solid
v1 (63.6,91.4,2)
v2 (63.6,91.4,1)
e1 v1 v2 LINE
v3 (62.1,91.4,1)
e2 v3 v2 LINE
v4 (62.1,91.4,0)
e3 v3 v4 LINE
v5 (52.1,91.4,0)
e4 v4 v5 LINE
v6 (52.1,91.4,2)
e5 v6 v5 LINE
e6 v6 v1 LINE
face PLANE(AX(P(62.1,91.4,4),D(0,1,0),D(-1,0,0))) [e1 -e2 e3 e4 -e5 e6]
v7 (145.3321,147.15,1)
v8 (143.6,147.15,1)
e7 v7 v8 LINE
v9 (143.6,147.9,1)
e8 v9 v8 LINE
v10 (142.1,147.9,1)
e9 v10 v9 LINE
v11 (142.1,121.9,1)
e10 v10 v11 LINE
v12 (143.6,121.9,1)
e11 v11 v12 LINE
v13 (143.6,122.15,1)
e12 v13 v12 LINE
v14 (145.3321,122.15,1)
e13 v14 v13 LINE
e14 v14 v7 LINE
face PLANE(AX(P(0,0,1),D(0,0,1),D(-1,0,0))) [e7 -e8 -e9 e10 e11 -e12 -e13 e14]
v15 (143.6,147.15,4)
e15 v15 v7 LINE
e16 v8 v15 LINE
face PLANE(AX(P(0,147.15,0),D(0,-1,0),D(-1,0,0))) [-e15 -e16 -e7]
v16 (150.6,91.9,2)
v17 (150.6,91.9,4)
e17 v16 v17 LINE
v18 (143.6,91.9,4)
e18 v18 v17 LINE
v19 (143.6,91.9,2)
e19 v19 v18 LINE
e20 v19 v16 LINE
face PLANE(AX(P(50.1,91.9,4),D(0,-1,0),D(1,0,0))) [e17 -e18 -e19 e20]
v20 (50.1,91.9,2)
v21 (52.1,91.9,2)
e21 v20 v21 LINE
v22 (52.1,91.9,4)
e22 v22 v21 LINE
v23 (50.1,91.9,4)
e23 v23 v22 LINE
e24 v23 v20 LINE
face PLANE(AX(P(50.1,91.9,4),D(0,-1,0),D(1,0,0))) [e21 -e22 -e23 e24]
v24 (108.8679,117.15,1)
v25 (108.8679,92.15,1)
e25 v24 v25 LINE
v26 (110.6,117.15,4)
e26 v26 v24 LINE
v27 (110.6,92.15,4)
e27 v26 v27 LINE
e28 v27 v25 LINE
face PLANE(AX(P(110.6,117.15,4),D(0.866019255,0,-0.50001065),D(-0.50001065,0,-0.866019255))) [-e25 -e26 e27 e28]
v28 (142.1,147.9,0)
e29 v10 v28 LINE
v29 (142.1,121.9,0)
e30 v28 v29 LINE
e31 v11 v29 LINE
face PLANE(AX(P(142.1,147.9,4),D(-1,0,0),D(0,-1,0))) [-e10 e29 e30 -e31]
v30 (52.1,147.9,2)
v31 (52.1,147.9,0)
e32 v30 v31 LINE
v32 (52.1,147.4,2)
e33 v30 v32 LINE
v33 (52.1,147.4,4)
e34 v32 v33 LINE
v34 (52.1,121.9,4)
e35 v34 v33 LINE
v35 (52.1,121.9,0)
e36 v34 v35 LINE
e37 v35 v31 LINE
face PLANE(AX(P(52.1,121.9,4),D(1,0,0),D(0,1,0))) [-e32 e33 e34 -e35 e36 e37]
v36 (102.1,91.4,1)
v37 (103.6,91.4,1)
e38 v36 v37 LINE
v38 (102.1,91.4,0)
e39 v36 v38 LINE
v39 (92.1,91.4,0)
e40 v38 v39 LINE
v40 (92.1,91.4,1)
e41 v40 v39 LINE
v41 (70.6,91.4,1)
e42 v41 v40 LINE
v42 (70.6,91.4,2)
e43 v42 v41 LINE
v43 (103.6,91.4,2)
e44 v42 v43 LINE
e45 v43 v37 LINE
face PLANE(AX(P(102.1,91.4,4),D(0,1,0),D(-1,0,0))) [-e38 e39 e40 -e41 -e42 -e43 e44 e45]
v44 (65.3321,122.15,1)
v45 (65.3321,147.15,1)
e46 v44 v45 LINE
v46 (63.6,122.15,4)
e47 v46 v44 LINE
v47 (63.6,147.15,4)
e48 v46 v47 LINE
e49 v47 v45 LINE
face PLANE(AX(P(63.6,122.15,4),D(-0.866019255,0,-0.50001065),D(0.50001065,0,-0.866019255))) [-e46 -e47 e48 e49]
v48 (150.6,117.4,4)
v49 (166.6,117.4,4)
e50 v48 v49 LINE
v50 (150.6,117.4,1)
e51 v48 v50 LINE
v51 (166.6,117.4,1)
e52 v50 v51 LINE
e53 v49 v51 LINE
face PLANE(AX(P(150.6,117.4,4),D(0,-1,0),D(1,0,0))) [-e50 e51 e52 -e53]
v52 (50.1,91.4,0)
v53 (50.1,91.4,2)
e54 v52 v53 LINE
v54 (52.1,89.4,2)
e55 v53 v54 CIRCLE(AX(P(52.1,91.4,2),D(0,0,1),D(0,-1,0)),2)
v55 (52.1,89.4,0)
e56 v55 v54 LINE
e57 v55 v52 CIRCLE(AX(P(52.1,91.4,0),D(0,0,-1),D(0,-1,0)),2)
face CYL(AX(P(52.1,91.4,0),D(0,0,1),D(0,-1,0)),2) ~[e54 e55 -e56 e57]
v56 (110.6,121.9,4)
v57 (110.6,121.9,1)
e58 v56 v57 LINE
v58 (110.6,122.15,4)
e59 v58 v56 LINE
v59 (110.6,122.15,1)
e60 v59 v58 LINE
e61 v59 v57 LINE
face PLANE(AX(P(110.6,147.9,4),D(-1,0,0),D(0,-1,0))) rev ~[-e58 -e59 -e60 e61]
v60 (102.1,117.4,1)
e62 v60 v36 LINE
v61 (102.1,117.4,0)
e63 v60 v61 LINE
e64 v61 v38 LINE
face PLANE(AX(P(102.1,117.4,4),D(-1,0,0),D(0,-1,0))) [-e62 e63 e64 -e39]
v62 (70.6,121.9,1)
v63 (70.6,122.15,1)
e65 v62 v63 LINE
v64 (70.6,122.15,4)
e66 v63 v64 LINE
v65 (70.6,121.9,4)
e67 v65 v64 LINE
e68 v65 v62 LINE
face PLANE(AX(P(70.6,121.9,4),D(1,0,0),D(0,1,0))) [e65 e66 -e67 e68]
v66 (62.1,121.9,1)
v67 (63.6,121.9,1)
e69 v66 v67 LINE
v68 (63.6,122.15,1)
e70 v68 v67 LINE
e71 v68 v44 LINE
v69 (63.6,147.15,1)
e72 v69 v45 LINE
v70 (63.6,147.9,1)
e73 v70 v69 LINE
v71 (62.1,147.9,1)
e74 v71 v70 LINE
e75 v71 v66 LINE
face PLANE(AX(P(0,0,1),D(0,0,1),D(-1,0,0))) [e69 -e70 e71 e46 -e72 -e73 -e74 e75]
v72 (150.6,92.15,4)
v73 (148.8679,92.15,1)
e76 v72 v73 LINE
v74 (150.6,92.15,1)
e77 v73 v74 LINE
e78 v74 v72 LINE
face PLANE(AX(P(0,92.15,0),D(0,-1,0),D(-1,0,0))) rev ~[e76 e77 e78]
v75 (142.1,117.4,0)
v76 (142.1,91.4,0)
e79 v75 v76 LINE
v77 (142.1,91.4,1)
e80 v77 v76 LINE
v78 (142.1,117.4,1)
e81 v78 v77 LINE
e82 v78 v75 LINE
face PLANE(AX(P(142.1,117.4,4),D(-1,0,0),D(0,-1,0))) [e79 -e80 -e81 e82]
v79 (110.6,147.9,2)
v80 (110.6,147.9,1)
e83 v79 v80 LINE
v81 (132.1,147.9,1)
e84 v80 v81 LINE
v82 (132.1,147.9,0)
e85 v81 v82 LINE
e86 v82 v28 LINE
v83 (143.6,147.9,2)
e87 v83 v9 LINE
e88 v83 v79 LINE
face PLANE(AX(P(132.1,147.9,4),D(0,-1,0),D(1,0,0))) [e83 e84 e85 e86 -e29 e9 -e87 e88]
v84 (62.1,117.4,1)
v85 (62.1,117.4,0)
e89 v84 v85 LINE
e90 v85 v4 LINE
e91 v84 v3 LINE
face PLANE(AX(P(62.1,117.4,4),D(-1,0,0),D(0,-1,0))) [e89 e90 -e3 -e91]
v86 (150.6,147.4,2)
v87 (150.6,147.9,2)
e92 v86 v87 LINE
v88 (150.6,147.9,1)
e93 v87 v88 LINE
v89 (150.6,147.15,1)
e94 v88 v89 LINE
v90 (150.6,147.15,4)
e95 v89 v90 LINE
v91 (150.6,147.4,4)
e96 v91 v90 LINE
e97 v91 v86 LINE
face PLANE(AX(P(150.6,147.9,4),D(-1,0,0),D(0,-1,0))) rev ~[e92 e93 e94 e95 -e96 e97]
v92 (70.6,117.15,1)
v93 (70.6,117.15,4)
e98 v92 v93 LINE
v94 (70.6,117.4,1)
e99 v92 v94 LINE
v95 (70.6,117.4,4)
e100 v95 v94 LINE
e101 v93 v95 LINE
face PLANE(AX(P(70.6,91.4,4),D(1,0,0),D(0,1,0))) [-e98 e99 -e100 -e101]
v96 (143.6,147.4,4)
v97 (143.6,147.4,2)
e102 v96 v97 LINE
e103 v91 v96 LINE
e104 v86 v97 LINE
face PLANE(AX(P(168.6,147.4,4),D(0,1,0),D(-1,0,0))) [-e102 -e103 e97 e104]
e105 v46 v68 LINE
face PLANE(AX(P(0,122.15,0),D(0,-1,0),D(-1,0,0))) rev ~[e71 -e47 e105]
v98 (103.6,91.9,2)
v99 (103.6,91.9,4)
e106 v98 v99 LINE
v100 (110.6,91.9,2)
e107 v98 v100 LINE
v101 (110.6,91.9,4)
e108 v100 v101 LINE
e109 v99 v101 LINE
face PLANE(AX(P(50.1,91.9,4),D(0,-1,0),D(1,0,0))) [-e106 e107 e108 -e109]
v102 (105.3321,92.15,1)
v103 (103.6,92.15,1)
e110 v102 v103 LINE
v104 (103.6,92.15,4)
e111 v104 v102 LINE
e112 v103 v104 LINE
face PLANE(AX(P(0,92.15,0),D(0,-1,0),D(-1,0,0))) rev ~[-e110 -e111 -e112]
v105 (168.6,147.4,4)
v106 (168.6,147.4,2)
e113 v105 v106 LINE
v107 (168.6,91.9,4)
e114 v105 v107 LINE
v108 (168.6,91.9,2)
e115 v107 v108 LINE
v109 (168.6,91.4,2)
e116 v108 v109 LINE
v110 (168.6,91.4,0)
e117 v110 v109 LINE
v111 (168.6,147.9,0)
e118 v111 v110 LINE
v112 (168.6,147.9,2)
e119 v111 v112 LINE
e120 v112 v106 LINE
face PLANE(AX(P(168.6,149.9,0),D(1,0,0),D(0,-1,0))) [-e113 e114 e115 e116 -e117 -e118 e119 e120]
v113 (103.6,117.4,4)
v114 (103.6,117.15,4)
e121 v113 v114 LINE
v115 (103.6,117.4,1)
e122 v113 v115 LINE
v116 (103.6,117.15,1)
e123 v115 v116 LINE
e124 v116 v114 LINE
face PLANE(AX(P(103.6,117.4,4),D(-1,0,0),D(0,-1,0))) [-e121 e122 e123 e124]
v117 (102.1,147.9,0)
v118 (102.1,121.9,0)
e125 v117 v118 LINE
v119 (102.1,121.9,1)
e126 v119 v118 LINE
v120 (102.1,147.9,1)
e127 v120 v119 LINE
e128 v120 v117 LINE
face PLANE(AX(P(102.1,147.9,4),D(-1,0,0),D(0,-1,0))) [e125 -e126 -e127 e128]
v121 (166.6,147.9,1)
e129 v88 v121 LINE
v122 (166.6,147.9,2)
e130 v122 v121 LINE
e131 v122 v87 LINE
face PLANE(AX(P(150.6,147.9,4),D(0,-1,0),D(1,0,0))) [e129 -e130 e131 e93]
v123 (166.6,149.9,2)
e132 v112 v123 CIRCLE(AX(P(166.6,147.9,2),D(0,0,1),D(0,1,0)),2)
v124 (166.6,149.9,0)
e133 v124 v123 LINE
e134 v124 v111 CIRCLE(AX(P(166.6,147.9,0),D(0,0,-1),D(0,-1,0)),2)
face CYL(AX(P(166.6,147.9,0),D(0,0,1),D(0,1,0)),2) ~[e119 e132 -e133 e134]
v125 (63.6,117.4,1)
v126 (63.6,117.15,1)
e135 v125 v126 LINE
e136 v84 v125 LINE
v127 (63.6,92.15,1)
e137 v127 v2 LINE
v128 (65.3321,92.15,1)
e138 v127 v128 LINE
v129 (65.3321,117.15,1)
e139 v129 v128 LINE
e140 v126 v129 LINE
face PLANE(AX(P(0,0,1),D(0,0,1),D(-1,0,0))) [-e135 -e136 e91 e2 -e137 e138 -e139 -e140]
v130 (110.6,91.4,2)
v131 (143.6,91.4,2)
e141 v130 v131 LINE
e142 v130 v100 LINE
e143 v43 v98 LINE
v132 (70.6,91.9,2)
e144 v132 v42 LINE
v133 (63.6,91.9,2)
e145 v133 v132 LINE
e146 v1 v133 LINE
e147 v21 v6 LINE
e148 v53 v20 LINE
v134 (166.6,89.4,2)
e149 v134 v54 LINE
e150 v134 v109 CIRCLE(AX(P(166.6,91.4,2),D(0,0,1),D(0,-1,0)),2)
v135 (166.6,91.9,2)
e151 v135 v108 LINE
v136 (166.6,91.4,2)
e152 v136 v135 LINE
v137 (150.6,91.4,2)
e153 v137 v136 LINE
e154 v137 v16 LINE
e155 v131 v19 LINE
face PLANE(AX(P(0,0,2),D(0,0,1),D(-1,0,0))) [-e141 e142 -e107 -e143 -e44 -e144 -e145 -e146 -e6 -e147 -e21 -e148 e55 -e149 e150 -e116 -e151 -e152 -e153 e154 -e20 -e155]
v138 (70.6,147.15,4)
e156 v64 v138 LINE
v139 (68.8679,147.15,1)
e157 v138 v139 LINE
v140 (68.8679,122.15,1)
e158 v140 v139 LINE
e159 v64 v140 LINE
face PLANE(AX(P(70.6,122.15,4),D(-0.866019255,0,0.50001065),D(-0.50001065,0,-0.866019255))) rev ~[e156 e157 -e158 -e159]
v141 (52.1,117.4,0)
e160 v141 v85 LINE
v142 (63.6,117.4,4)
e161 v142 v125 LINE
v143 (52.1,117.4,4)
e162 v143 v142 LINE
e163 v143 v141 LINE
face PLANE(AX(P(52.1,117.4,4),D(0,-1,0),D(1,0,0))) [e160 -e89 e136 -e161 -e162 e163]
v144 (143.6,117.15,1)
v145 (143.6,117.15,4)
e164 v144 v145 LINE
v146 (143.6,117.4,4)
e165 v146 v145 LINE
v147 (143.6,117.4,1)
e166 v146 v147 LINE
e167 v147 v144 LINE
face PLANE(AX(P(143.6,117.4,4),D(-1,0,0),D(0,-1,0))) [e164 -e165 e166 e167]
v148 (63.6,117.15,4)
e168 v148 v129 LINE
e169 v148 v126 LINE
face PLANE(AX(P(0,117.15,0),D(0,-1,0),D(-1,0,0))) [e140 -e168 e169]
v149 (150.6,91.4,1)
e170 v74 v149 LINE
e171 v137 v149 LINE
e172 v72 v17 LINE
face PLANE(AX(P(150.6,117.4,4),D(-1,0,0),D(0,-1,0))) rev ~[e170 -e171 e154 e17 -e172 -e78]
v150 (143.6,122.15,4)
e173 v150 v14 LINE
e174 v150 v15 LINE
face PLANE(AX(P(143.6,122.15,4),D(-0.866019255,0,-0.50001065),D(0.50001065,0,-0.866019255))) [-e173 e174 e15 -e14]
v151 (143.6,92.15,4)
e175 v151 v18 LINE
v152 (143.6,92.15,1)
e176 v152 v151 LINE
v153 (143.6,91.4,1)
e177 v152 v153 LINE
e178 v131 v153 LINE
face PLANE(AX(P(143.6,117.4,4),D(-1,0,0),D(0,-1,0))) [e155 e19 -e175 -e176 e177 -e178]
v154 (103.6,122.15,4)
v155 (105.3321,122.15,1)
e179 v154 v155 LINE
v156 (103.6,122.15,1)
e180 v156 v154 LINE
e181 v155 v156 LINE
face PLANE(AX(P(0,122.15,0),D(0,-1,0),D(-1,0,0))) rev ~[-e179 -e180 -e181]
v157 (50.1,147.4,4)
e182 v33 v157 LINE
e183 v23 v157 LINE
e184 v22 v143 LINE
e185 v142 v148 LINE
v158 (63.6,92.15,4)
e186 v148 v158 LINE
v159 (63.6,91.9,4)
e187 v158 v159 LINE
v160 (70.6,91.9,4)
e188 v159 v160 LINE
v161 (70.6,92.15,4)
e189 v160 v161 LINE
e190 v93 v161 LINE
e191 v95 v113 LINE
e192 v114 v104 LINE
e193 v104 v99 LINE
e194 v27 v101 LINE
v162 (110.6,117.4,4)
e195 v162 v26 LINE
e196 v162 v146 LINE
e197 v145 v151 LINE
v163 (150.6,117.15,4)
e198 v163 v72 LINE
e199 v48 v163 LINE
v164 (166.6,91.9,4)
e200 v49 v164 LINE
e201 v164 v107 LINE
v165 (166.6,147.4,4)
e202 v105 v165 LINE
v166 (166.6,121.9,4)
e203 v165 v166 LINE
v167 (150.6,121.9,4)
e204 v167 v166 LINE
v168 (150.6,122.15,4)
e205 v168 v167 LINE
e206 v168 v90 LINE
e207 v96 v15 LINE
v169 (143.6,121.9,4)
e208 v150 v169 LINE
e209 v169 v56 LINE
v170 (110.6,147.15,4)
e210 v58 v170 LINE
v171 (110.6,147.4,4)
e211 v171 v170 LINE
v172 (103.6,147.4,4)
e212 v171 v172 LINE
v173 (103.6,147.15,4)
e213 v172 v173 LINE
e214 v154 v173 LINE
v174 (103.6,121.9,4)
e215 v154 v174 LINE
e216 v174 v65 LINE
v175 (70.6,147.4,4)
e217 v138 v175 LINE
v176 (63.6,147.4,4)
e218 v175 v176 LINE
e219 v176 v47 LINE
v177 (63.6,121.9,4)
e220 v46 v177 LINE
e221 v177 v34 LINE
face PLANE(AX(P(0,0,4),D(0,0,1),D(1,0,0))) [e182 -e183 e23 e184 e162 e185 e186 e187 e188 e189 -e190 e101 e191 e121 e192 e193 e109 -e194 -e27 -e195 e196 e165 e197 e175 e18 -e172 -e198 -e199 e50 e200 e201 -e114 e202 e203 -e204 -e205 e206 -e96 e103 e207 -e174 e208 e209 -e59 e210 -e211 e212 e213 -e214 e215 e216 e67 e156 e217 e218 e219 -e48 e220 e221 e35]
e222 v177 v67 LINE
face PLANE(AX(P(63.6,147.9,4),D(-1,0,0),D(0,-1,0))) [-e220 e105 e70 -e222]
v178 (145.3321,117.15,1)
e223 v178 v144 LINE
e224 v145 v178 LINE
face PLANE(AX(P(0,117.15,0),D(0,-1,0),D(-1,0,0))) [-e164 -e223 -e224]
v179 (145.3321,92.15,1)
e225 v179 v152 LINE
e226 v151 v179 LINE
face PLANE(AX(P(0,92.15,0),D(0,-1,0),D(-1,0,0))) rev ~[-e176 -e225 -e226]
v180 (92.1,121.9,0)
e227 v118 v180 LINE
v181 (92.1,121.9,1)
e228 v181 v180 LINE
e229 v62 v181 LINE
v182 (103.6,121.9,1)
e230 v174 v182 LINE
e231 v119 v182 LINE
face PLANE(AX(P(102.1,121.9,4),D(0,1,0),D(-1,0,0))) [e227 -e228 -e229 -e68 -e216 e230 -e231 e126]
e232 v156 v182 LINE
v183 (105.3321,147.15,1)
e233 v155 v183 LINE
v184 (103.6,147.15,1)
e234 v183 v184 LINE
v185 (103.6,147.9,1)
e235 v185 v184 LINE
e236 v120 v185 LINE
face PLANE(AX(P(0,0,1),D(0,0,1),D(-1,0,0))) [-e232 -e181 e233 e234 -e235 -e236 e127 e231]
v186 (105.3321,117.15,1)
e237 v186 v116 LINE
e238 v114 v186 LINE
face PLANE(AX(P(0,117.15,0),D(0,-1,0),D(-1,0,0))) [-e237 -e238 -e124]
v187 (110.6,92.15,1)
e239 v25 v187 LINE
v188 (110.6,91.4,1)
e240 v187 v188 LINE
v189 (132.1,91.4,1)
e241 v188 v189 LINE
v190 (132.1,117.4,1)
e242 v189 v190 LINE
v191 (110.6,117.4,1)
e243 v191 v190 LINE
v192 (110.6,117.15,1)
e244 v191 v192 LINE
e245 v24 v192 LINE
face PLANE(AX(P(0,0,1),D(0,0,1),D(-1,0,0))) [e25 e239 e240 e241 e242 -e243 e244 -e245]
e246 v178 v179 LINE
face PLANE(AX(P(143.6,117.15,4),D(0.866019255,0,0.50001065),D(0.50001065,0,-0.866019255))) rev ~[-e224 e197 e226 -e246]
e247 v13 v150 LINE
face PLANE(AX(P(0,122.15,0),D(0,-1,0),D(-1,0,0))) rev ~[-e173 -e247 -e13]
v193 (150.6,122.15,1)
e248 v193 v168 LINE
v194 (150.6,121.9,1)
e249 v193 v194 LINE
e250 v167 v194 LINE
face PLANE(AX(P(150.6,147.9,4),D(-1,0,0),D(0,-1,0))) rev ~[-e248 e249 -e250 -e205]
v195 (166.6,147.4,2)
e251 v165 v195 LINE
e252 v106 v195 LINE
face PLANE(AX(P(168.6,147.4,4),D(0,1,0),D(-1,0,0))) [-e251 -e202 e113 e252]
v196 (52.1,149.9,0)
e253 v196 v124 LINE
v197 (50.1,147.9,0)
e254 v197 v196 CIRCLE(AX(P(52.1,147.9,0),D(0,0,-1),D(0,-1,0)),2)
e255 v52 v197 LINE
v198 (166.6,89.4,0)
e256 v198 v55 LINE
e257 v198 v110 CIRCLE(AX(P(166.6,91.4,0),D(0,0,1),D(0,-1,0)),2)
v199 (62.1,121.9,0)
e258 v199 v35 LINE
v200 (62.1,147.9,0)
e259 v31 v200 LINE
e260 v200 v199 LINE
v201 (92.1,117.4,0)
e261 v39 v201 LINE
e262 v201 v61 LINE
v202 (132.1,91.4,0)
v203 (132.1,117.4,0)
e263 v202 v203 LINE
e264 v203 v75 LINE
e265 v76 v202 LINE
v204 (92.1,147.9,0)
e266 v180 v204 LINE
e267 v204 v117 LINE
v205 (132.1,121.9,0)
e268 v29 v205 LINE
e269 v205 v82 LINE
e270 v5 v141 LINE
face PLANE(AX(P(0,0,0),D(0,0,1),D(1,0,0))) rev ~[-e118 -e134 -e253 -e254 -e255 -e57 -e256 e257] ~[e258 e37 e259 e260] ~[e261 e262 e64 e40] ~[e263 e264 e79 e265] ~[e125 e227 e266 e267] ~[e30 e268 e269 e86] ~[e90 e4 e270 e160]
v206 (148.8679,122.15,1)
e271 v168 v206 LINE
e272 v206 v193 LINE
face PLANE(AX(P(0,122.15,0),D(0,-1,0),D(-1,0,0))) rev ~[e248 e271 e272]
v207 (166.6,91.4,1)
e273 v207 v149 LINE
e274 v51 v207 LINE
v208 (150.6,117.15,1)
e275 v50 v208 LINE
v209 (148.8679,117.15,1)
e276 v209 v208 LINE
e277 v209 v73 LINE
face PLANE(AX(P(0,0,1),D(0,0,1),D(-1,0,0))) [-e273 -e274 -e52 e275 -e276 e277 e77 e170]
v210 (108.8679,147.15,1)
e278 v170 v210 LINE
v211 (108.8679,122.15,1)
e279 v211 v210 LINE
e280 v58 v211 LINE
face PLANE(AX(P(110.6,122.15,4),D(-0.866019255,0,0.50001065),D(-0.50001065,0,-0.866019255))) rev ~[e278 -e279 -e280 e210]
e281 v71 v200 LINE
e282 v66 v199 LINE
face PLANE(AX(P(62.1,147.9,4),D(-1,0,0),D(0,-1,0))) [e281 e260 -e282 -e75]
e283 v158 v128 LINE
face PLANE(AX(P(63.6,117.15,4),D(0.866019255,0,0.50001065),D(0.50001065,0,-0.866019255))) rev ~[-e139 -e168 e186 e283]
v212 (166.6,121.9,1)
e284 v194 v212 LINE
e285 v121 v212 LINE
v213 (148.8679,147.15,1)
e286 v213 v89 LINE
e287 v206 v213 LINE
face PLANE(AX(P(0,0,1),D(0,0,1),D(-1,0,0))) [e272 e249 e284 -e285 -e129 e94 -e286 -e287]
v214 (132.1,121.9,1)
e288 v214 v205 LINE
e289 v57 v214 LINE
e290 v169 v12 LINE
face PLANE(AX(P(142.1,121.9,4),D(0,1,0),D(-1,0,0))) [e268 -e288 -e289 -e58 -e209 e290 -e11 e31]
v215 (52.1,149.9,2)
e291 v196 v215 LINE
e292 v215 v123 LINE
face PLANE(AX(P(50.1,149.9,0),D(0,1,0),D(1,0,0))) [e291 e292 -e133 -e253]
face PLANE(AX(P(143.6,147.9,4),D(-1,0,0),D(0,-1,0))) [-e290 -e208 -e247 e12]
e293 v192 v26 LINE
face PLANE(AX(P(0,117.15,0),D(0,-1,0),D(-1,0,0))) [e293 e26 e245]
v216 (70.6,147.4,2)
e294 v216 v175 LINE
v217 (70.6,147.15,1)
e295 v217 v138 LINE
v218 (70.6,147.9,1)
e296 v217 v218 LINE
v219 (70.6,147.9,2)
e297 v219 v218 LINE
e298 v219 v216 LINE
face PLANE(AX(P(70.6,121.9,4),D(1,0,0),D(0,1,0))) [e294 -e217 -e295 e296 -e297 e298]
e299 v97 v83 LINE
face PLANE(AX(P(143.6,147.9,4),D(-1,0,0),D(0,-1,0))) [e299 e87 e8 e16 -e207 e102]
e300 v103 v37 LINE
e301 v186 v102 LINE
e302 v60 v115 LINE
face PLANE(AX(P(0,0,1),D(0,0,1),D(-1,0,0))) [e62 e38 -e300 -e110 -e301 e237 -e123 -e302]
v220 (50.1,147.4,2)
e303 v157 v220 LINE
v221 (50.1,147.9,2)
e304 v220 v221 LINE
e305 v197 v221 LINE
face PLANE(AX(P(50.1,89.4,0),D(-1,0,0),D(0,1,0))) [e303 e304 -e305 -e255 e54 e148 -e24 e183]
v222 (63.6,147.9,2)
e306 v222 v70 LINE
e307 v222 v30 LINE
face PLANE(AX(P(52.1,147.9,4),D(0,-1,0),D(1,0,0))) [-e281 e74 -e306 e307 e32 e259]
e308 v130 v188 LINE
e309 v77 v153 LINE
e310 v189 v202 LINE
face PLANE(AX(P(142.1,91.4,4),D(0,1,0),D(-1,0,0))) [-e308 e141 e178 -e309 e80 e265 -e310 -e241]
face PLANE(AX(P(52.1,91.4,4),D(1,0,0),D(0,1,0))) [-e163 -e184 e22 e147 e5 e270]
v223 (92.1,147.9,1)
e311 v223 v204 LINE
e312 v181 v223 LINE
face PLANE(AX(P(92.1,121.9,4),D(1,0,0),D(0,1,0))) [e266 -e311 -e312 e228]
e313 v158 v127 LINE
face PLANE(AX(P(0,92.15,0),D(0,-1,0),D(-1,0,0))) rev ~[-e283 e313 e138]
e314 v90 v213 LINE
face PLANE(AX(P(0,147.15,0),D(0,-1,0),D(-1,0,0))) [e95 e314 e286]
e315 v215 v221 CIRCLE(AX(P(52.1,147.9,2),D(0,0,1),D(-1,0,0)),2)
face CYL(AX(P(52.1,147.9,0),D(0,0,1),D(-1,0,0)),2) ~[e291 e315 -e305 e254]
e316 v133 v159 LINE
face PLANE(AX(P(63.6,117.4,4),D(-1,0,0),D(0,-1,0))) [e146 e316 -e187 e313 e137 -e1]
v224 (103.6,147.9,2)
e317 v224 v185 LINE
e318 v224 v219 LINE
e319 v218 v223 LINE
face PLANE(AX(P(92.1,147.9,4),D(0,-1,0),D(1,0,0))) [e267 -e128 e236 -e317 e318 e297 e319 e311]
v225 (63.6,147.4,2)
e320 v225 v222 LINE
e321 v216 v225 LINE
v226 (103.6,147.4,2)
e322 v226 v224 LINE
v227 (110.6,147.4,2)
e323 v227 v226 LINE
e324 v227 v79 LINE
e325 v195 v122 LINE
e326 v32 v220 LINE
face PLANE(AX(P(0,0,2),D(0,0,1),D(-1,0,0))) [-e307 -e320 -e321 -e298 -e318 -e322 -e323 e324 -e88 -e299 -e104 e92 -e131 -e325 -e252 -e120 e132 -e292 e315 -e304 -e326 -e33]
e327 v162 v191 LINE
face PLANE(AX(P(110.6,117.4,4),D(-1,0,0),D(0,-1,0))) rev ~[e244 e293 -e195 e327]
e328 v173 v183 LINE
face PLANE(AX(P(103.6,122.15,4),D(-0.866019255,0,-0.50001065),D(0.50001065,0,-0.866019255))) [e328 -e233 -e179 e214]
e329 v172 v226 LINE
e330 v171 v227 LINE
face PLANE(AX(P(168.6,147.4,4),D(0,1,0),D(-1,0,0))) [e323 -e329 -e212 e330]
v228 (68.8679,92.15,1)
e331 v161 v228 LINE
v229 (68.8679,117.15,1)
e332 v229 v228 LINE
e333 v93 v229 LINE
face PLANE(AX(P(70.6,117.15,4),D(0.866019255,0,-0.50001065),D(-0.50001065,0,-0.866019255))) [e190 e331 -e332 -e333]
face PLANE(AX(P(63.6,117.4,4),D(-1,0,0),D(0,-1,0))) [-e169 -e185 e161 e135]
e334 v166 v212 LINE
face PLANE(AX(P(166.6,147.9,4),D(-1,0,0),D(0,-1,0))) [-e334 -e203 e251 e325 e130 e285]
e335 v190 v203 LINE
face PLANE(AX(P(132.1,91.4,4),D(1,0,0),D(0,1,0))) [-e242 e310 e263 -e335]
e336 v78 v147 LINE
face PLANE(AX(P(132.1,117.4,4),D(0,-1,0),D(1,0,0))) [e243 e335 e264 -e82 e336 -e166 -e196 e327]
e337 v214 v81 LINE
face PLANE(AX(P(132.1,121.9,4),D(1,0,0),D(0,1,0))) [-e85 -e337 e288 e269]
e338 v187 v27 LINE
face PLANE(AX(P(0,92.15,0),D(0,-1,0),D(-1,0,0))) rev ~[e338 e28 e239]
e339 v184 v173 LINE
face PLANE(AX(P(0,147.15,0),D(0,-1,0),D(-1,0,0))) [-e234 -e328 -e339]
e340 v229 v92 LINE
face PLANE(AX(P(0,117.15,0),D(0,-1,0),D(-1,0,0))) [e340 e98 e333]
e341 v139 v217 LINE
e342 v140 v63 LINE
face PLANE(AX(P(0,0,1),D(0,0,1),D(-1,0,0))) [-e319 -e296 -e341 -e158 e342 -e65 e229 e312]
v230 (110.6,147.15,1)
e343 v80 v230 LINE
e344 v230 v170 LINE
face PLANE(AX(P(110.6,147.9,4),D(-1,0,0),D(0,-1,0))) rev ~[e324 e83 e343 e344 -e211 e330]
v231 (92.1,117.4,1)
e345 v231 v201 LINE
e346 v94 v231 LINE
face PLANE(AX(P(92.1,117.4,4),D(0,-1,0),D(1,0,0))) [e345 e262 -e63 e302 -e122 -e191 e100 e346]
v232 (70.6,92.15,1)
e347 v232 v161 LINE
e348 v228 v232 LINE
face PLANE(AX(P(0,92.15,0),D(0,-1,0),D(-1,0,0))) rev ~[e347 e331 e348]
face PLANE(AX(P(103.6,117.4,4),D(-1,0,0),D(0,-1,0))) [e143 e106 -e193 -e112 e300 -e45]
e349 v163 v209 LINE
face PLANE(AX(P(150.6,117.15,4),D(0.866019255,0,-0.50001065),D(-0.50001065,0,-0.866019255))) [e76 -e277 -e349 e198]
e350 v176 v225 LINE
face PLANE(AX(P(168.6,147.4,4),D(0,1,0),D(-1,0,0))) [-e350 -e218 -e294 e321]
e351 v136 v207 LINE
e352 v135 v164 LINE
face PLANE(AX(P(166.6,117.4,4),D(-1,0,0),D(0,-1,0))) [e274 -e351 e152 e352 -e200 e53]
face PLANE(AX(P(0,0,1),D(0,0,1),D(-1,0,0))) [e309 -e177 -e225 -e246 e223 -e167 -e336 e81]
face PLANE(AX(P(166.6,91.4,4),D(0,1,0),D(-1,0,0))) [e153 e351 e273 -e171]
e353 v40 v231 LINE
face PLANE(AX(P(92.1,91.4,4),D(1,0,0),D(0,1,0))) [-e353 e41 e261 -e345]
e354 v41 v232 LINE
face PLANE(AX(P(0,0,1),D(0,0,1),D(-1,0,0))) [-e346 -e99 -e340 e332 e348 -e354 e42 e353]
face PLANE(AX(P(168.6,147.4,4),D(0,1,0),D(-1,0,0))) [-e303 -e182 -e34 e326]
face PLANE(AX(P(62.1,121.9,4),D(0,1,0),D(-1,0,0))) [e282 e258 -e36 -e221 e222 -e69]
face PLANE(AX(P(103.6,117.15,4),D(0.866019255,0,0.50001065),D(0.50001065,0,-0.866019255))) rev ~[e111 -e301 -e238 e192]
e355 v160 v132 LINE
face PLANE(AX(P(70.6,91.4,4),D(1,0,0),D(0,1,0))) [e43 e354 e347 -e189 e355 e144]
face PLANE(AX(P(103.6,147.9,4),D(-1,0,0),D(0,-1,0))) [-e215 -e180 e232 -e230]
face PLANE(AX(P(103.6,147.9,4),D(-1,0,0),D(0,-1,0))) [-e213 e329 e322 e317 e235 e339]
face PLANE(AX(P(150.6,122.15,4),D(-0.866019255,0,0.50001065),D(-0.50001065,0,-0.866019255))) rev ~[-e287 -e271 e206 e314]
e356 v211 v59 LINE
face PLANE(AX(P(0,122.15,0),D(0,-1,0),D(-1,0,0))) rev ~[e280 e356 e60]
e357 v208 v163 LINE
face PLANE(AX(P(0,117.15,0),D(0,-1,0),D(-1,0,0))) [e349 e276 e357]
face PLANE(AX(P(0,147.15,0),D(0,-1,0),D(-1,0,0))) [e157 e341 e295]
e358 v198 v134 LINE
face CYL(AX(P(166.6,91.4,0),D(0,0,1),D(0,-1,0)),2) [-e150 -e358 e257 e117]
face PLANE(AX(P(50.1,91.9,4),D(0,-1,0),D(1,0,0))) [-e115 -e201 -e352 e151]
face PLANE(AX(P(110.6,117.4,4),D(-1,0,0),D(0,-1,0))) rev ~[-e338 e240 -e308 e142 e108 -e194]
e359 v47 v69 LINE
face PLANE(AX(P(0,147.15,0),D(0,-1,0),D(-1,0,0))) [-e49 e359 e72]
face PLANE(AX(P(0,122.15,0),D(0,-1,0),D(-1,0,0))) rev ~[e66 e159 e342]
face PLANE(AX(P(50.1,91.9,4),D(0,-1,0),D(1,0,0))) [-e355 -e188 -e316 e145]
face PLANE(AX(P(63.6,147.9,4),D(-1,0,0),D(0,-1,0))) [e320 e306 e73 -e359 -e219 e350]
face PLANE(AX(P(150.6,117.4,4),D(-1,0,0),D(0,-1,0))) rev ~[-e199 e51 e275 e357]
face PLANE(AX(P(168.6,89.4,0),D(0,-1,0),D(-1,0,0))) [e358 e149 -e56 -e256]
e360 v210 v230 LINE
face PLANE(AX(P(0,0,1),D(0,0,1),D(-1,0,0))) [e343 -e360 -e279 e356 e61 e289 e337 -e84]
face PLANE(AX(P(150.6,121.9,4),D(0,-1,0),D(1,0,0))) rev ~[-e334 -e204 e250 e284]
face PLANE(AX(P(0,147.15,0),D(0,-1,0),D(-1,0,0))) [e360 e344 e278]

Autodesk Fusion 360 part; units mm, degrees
sketch "Schizzo1" plane through (0, 0, 0) normal (0, 0, 1) x (1, 0, 0)
  line L0 (50, 150) -> (168.7, 150) construction
  line L1 (168.7, 150) -> (168.7, 89.3) construction
  line L2 (168.7, 89.3) -> (50, 89.3) construction
  line L3 (50, 89.3) -> (50, 150) construction
  line L4 (50, 119.65) -> (168.7, 119.65) construction
  line L5 (109.35, 150) -> (109.35, 89.3) construction
  line L6 (168.6, 89.4) -> (50.1, 89.4)
  line L7 (50.1, 89.4) -> (50.1, 149.9)
  line L8 (50.1, 149.9) -> (168.6, 149.9)
  line L9 (168.6, 149.9) -> (168.6, 89.4)
  line L10 (168.6, 89.4) -> (50.1, 149.9) construction
  line L11 (50.1, 89.4) -> (168.6, 149.9) construction
  point P0 (109.35, 119.65)
  dimension "d1" = 118.7
  dimension "d2" = 60.7
  dimension "d3" = 0.1
  dimension "d4" = 0.1
extrude "Estrusione1" add sketch "Schizzo1" along normal blind 4
fillet "Raccordo1" radius 2 4 edges at (50.1, 89.4, 2) (168.6, 89.4, 2) (50.1, 149.9, 2) (168.6, 149.9, 2)
sketch "Schizzo2" plane through (0, 0, 4) normal (0, 0, 1) x (-1, 0, 0)
  arc A0 (-168.6, -147.9) -> (-166.6, -149.9) centre (-166.6, -147.9) ccw
  line L0 (-166.6, -149.9) -> (-52.1, -149.9)
  arc A1 (-52.1, -149.9) -> (-50.1, -147.9) centre (-52.1, -147.9) ccw
  line L1 (-50.1, -147.9) -> (-50.1, -91.4)
  arc A2 (-50.1, -91.4) -> (-52.1, -89.4) centre (-52.1, -91.4) ccw
  line L2 (-52.1, -89.4) -> (-166.6, -89.4)
  arc A3 (-166.6, -89.4) -> (-168.6, -91.4) centre (-166.6, -91.4) ccw
  line L3 (-168.6, -91.4) -> (-168.6, -147.9)
  line L4 (-50.1, -149.9) -> (-168.6, -149.9) construction
  line L5 (-168.6, -149.9) -> (-168.6, -89.4) construction
  line L6 (-168.6, -89.4) -> (-50.1, -89.4) construction
  line L7 (-50.1, -89.4) -> (-50.1, -149.9) construction
  line L8 (-50.1, -119.65) -> (-168.6, -119.65) construction
  line L9 (-109.35, -149.9) -> (-109.35, -89.4) construction
  line L10 (-166.6, -91.4) -> (-52.1, -91.4)
  line L11 (-52.1, -91.4) -> (-52.1, -147.9)
  line L12 (-52.1, -147.9) -> (-166.6, -147.9)
  line L13 (-166.6, -147.9) -> (-166.6, -91.4)
  line L14 (-166.6, -91.4) -> (-52.1, -147.9) construction
  line L15 (-52.1, -91.4) -> (-166.6, -147.9) construction
  line L16 (-70.6, -91.4) -> (-70.6, -147.9)
  line L17 (-63.6, -147.9) -> (-63.6, -91.4)
  line L18 (-52.1, -147.9) -> (-62.1, -147.9)
  line L19 (-62.1, -147.9) -> (-62.1, -121.9)
  line L20 (-62.1, -121.9) -> (-52.1, -121.9)
  line L21 (-52.1, -121.9) -> (-52.1, -147.9)
  line L22 (-102.1, -147.9) -> (-102.1, -121.9)
  line L23 (-102.1, -121.9) -> (-92.1, -121.9)
  line L24 (-92.1, -121.9) -> (-92.1, -147.9)
  line L25 (-92.1, -147.9) -> (-102.1, -147.9)
  line L26 (-142.1, -147.9) -> (-142.1, -121.9)
  line L27 (-142.1, -121.9) -> (-132.1, -121.9)
  line L28 (-132.1, -121.9) -> (-132.1, -147.9)
  line L29 (-132.1, -147.9) -> (-142.1, -147.9)
  line L30 (-62.1, -117.4) -> (-62.1, -91.4)
  line L31 (-62.1, -91.4) -> (-52.1, -91.4)
  line L32 (-52.1, -91.4) -> (-52.1, -117.4)
  line L33 (-52.1, -117.4) -> (-62.1, -117.4)
  line L34 (-102.1, -117.4) -> (-102.1, -91.4)
  line L35 (-102.1, -91.4) -> (-92.1, -91.4)
  line L36 (-92.1, -91.4) -> (-92.1, -117.4)
  line L37 (-92.1, -117.4) -> (-102.1, -117.4)
  line L38 (-142.1, -117.4) -> (-142.1, -91.4)
  line L39 (-142.1, -91.4) -> (-132.1, -91.4)
  line L40 (-132.1, -91.4) -> (-132.1, -117.4)
  line L41 (-132.1, -117.4) -> (-142.1, -117.4)
  line L42 (-103.6, -147.9) -> (-103.6, -91.4)
  line L43 (-110.6, -147.9) -> (-110.6, -91.4)
  line L44 (-143.6, -147.9) -> (-143.6, -91.4)
  line L45 (-150.6, -147.9) -> (-150.6, -91.4)
  line L46 (-52.1, -121.9) -> (-166.6, -121.9)
  line L47 (-52.1, -117.4) -> (-166.6, -117.4)
  point P0 (-109.35, -119.65)
  point P1 (-109.35, -119.65)
  dimension "d9" = 2
  dimension "d10" = 2
  dimension "d11" = 7
  dimension "d14" = 10
  dimension "d15" = 26
  dimension "d18" = -40
  dimension "d19" = 30.5
  dimension "d20" = 7
  dimension "d21" = 1.5
  dimension "d22" = 1.5
  dimension "d25" = 7
  dimension "d26" = 1.5
extrude "Estrusione2" cut sketch "Schizzo2" against normal blind 3 contours L10 L13 L45 L47 | L10 L38 L44 L47 | L12 L13 L45 L46 | L10 L38 L39 L40 L41 L47 | L10 L40 L43 L47 | L12 L26 L44 L46 | L12 L26 L27 L28 L29 L46 | L10 L34 L42 L47 | L12 L28 L43 L46 | L10 L34 L35 L36 L37 L47 | L10 L16 L36 L47 | L12 L22 L42 L46 | L12 L22 L23 L24 L25 L46 | L10 L17 L30 L47 | L12 L16 L24 L46 | L10 L11 L30 L31 L32 L33 L47 | L12 L17 L19 L46 | L11 L12 L18 L19 L20 L21 L46
extrude "Estrusione3" cut sketch "Schizzo2" against normal blind 4 contours L10 L38 L39 L40 L41 L47 | L12 L26 L27 L28 L29 L46 | L10 L34 L35 L36 L37 L47 | L12 L22 L23 L24 L25 L46 | L10 L11 L30 L31 L32 L33 L47 | L11 L12 L18 L19 L20 L21 L46
ref_plane "Piano di lavoro1" through (109.35, 119.65, 4) normal (0, -1, 0) x (1, 0, 0)
sketch "Schizzo3" plane through (0, 119.65, 0) normal (0, -1, 0) x (-1, 0, 0)
  line L0 (-50.1, -4) -> (-168.7, -4) construction
  line L1 (-168.7, -4) -> (-168.7, 0) construction
  line L2 (-168.7, 0) -> (-50.1, 0) construction
  line L3 (-50.1, 0) -> (-50.1, -4) construction
  line L4 (-168.6, -4) -> (-50.1, -4) construction
  line L5 (-50.1, -1) -> (-168.7, -1) construction
  line L6 (-110.6, -1) -> (-132.1, -1) construction
  line L7 (-63.6, -4) -> (-63.6, 0) construction
  line L8 (-70.6, -4) -> (-70.6, 0) construction
  line L9 (-63.6, -4) -> (-63.6, -1) construction
  line L10 (-70.6, -4) -> (-70.6, -1) construction
  line L11 (-103.6, -4) -> (-103.6, 0) construction
  line L12 (-110.6, -4) -> (-110.6, 0) construction
  line L13 (-103.6, -4) -> (-103.6, -1) construction
  line L14 (-110.6, -4) -> (-110.6, -1) construction
  line L15 (-143.6, -4) -> (-143.6, 0) construction
  line L16 (-150.6, -4) -> (-150.6, 0) construction
  line L17 (-143.6, -4) -> (-143.6, -1) construction
  line L18 (-150.6, -4) -> (-150.6, -1) construction
  line L19 (-63.6, -4) -> (-65.3321, -1)
  line L20 (-63.6, -4) -> (-60.1359, -4) construction
  line L21 (-70.6, -4) -> (-68.8679, -1)
  line L22 (-70.6, -4) -> (-67.1359, -4) construction
  line L23 (-63.6, -4) -> (-63.6, -1)
  line L24 (-63.6, -1) -> (-65.3321, -1)
  line L25 (-68.8679, -1) -> (-70.6, -1)
  line L26 (-70.6, -1) -> (-70.6, -4)
  line L27 (-103.6, -1) -> (-103.6, -4)
  line L28 (-103.6, -4) -> (-105.3321, -1)
  line L29 (-105.3321, -1) -> (-103.6, -1)
  line L30 (-110.6, -1) -> (-110.6, -4)
  line L31 (-110.6, -4) -> (-108.8679, -1)
  line L32 (-108.8679, -1) -> (-110.6, -1)
  line L33 (-143.6, -1) -> (-143.6, -4)
  line L34 (-143.6, -4) -> (-145.3321, -1)
  line L35 (-145.3321, -1) -> (-143.6, -1)
  line L36 (-150.6, -1) -> (-150.6, -4)
  line L37 (-150.6, -4) -> (-148.8679, -1)
  line L38 (-148.8679, -1) -> (-150.6, -1)
  point P0 (-168.7, 0)
  dimension "d28" = 120
  dimension "d29" = 60
  dimension "d30" = 30
  dimension "d31" = 30
  dimension "d32" = 30
  dimension "d33" = 30
extrude "Estrusione4" cut sketch "Schizzo3" along normal blind 25 from surface at 2.5
extrude "Estrusione6" cut sketch "Schizzo3" against normal blind 25 from surface at -2.5
sketch "Schizzo4" plane through (0, 0, 4) normal (0, 0, 1) x (-1, 0, 0)
  line L0 (-50.1, -149.9) -> (-168.6, -149.9) construction
  line L1 (-168.6, -149.9) -> (-168.6, -89.4) construction
  line L2 (-168.6, -89.4) -> (-50.1, -89.4) construction
  line L3 (-50.1, -89.4) -> (-50.1, -149.9) construction
  line L4 (-166.6, -149.9) -> (-52.1, -149.9) construction
  line L5 (-168.6, -91.4) -> (-168.6, -147.9) construction
  line L6 (-50.1, -147.9) -> (-50.1, -91.4) construction
  line L7 (-52.1, -89.4) -> (-166.6, -89.4) construction
  line L8 (-50.1, -149.9) -> (-168.6, -149.9)
  line L9 (-168.6, -149.9) -> (-168.6, -147.4)
  line L10 (-168.6, -147.4) -> (-50.1, -147.4)
  line L11 (-50.1, -147.4) -> (-50.1, -149.9)
  line L12 (-50.1, -119.65) -> (-168.6, -119.65) construction
  line L13 (-50.1, -91.9) -> (-168.6, -91.9)
  line L14 (-168.6, -91.9) -> (-168.6, -89.4)
  line L15 (-168.6, -89.4) -> (-50.1, -89.4)
  line L16 (-50.1, -89.4) -> (-50.1, -91.9)
  dimension "d36" = 2.5
  dimension "d37" = 2.5
extrude "Estrusione5" cut sketch "Schizzo4" against normal blind 2
equation "d28 = 90 deg + 30 deg"
equation "d37 = d36"
